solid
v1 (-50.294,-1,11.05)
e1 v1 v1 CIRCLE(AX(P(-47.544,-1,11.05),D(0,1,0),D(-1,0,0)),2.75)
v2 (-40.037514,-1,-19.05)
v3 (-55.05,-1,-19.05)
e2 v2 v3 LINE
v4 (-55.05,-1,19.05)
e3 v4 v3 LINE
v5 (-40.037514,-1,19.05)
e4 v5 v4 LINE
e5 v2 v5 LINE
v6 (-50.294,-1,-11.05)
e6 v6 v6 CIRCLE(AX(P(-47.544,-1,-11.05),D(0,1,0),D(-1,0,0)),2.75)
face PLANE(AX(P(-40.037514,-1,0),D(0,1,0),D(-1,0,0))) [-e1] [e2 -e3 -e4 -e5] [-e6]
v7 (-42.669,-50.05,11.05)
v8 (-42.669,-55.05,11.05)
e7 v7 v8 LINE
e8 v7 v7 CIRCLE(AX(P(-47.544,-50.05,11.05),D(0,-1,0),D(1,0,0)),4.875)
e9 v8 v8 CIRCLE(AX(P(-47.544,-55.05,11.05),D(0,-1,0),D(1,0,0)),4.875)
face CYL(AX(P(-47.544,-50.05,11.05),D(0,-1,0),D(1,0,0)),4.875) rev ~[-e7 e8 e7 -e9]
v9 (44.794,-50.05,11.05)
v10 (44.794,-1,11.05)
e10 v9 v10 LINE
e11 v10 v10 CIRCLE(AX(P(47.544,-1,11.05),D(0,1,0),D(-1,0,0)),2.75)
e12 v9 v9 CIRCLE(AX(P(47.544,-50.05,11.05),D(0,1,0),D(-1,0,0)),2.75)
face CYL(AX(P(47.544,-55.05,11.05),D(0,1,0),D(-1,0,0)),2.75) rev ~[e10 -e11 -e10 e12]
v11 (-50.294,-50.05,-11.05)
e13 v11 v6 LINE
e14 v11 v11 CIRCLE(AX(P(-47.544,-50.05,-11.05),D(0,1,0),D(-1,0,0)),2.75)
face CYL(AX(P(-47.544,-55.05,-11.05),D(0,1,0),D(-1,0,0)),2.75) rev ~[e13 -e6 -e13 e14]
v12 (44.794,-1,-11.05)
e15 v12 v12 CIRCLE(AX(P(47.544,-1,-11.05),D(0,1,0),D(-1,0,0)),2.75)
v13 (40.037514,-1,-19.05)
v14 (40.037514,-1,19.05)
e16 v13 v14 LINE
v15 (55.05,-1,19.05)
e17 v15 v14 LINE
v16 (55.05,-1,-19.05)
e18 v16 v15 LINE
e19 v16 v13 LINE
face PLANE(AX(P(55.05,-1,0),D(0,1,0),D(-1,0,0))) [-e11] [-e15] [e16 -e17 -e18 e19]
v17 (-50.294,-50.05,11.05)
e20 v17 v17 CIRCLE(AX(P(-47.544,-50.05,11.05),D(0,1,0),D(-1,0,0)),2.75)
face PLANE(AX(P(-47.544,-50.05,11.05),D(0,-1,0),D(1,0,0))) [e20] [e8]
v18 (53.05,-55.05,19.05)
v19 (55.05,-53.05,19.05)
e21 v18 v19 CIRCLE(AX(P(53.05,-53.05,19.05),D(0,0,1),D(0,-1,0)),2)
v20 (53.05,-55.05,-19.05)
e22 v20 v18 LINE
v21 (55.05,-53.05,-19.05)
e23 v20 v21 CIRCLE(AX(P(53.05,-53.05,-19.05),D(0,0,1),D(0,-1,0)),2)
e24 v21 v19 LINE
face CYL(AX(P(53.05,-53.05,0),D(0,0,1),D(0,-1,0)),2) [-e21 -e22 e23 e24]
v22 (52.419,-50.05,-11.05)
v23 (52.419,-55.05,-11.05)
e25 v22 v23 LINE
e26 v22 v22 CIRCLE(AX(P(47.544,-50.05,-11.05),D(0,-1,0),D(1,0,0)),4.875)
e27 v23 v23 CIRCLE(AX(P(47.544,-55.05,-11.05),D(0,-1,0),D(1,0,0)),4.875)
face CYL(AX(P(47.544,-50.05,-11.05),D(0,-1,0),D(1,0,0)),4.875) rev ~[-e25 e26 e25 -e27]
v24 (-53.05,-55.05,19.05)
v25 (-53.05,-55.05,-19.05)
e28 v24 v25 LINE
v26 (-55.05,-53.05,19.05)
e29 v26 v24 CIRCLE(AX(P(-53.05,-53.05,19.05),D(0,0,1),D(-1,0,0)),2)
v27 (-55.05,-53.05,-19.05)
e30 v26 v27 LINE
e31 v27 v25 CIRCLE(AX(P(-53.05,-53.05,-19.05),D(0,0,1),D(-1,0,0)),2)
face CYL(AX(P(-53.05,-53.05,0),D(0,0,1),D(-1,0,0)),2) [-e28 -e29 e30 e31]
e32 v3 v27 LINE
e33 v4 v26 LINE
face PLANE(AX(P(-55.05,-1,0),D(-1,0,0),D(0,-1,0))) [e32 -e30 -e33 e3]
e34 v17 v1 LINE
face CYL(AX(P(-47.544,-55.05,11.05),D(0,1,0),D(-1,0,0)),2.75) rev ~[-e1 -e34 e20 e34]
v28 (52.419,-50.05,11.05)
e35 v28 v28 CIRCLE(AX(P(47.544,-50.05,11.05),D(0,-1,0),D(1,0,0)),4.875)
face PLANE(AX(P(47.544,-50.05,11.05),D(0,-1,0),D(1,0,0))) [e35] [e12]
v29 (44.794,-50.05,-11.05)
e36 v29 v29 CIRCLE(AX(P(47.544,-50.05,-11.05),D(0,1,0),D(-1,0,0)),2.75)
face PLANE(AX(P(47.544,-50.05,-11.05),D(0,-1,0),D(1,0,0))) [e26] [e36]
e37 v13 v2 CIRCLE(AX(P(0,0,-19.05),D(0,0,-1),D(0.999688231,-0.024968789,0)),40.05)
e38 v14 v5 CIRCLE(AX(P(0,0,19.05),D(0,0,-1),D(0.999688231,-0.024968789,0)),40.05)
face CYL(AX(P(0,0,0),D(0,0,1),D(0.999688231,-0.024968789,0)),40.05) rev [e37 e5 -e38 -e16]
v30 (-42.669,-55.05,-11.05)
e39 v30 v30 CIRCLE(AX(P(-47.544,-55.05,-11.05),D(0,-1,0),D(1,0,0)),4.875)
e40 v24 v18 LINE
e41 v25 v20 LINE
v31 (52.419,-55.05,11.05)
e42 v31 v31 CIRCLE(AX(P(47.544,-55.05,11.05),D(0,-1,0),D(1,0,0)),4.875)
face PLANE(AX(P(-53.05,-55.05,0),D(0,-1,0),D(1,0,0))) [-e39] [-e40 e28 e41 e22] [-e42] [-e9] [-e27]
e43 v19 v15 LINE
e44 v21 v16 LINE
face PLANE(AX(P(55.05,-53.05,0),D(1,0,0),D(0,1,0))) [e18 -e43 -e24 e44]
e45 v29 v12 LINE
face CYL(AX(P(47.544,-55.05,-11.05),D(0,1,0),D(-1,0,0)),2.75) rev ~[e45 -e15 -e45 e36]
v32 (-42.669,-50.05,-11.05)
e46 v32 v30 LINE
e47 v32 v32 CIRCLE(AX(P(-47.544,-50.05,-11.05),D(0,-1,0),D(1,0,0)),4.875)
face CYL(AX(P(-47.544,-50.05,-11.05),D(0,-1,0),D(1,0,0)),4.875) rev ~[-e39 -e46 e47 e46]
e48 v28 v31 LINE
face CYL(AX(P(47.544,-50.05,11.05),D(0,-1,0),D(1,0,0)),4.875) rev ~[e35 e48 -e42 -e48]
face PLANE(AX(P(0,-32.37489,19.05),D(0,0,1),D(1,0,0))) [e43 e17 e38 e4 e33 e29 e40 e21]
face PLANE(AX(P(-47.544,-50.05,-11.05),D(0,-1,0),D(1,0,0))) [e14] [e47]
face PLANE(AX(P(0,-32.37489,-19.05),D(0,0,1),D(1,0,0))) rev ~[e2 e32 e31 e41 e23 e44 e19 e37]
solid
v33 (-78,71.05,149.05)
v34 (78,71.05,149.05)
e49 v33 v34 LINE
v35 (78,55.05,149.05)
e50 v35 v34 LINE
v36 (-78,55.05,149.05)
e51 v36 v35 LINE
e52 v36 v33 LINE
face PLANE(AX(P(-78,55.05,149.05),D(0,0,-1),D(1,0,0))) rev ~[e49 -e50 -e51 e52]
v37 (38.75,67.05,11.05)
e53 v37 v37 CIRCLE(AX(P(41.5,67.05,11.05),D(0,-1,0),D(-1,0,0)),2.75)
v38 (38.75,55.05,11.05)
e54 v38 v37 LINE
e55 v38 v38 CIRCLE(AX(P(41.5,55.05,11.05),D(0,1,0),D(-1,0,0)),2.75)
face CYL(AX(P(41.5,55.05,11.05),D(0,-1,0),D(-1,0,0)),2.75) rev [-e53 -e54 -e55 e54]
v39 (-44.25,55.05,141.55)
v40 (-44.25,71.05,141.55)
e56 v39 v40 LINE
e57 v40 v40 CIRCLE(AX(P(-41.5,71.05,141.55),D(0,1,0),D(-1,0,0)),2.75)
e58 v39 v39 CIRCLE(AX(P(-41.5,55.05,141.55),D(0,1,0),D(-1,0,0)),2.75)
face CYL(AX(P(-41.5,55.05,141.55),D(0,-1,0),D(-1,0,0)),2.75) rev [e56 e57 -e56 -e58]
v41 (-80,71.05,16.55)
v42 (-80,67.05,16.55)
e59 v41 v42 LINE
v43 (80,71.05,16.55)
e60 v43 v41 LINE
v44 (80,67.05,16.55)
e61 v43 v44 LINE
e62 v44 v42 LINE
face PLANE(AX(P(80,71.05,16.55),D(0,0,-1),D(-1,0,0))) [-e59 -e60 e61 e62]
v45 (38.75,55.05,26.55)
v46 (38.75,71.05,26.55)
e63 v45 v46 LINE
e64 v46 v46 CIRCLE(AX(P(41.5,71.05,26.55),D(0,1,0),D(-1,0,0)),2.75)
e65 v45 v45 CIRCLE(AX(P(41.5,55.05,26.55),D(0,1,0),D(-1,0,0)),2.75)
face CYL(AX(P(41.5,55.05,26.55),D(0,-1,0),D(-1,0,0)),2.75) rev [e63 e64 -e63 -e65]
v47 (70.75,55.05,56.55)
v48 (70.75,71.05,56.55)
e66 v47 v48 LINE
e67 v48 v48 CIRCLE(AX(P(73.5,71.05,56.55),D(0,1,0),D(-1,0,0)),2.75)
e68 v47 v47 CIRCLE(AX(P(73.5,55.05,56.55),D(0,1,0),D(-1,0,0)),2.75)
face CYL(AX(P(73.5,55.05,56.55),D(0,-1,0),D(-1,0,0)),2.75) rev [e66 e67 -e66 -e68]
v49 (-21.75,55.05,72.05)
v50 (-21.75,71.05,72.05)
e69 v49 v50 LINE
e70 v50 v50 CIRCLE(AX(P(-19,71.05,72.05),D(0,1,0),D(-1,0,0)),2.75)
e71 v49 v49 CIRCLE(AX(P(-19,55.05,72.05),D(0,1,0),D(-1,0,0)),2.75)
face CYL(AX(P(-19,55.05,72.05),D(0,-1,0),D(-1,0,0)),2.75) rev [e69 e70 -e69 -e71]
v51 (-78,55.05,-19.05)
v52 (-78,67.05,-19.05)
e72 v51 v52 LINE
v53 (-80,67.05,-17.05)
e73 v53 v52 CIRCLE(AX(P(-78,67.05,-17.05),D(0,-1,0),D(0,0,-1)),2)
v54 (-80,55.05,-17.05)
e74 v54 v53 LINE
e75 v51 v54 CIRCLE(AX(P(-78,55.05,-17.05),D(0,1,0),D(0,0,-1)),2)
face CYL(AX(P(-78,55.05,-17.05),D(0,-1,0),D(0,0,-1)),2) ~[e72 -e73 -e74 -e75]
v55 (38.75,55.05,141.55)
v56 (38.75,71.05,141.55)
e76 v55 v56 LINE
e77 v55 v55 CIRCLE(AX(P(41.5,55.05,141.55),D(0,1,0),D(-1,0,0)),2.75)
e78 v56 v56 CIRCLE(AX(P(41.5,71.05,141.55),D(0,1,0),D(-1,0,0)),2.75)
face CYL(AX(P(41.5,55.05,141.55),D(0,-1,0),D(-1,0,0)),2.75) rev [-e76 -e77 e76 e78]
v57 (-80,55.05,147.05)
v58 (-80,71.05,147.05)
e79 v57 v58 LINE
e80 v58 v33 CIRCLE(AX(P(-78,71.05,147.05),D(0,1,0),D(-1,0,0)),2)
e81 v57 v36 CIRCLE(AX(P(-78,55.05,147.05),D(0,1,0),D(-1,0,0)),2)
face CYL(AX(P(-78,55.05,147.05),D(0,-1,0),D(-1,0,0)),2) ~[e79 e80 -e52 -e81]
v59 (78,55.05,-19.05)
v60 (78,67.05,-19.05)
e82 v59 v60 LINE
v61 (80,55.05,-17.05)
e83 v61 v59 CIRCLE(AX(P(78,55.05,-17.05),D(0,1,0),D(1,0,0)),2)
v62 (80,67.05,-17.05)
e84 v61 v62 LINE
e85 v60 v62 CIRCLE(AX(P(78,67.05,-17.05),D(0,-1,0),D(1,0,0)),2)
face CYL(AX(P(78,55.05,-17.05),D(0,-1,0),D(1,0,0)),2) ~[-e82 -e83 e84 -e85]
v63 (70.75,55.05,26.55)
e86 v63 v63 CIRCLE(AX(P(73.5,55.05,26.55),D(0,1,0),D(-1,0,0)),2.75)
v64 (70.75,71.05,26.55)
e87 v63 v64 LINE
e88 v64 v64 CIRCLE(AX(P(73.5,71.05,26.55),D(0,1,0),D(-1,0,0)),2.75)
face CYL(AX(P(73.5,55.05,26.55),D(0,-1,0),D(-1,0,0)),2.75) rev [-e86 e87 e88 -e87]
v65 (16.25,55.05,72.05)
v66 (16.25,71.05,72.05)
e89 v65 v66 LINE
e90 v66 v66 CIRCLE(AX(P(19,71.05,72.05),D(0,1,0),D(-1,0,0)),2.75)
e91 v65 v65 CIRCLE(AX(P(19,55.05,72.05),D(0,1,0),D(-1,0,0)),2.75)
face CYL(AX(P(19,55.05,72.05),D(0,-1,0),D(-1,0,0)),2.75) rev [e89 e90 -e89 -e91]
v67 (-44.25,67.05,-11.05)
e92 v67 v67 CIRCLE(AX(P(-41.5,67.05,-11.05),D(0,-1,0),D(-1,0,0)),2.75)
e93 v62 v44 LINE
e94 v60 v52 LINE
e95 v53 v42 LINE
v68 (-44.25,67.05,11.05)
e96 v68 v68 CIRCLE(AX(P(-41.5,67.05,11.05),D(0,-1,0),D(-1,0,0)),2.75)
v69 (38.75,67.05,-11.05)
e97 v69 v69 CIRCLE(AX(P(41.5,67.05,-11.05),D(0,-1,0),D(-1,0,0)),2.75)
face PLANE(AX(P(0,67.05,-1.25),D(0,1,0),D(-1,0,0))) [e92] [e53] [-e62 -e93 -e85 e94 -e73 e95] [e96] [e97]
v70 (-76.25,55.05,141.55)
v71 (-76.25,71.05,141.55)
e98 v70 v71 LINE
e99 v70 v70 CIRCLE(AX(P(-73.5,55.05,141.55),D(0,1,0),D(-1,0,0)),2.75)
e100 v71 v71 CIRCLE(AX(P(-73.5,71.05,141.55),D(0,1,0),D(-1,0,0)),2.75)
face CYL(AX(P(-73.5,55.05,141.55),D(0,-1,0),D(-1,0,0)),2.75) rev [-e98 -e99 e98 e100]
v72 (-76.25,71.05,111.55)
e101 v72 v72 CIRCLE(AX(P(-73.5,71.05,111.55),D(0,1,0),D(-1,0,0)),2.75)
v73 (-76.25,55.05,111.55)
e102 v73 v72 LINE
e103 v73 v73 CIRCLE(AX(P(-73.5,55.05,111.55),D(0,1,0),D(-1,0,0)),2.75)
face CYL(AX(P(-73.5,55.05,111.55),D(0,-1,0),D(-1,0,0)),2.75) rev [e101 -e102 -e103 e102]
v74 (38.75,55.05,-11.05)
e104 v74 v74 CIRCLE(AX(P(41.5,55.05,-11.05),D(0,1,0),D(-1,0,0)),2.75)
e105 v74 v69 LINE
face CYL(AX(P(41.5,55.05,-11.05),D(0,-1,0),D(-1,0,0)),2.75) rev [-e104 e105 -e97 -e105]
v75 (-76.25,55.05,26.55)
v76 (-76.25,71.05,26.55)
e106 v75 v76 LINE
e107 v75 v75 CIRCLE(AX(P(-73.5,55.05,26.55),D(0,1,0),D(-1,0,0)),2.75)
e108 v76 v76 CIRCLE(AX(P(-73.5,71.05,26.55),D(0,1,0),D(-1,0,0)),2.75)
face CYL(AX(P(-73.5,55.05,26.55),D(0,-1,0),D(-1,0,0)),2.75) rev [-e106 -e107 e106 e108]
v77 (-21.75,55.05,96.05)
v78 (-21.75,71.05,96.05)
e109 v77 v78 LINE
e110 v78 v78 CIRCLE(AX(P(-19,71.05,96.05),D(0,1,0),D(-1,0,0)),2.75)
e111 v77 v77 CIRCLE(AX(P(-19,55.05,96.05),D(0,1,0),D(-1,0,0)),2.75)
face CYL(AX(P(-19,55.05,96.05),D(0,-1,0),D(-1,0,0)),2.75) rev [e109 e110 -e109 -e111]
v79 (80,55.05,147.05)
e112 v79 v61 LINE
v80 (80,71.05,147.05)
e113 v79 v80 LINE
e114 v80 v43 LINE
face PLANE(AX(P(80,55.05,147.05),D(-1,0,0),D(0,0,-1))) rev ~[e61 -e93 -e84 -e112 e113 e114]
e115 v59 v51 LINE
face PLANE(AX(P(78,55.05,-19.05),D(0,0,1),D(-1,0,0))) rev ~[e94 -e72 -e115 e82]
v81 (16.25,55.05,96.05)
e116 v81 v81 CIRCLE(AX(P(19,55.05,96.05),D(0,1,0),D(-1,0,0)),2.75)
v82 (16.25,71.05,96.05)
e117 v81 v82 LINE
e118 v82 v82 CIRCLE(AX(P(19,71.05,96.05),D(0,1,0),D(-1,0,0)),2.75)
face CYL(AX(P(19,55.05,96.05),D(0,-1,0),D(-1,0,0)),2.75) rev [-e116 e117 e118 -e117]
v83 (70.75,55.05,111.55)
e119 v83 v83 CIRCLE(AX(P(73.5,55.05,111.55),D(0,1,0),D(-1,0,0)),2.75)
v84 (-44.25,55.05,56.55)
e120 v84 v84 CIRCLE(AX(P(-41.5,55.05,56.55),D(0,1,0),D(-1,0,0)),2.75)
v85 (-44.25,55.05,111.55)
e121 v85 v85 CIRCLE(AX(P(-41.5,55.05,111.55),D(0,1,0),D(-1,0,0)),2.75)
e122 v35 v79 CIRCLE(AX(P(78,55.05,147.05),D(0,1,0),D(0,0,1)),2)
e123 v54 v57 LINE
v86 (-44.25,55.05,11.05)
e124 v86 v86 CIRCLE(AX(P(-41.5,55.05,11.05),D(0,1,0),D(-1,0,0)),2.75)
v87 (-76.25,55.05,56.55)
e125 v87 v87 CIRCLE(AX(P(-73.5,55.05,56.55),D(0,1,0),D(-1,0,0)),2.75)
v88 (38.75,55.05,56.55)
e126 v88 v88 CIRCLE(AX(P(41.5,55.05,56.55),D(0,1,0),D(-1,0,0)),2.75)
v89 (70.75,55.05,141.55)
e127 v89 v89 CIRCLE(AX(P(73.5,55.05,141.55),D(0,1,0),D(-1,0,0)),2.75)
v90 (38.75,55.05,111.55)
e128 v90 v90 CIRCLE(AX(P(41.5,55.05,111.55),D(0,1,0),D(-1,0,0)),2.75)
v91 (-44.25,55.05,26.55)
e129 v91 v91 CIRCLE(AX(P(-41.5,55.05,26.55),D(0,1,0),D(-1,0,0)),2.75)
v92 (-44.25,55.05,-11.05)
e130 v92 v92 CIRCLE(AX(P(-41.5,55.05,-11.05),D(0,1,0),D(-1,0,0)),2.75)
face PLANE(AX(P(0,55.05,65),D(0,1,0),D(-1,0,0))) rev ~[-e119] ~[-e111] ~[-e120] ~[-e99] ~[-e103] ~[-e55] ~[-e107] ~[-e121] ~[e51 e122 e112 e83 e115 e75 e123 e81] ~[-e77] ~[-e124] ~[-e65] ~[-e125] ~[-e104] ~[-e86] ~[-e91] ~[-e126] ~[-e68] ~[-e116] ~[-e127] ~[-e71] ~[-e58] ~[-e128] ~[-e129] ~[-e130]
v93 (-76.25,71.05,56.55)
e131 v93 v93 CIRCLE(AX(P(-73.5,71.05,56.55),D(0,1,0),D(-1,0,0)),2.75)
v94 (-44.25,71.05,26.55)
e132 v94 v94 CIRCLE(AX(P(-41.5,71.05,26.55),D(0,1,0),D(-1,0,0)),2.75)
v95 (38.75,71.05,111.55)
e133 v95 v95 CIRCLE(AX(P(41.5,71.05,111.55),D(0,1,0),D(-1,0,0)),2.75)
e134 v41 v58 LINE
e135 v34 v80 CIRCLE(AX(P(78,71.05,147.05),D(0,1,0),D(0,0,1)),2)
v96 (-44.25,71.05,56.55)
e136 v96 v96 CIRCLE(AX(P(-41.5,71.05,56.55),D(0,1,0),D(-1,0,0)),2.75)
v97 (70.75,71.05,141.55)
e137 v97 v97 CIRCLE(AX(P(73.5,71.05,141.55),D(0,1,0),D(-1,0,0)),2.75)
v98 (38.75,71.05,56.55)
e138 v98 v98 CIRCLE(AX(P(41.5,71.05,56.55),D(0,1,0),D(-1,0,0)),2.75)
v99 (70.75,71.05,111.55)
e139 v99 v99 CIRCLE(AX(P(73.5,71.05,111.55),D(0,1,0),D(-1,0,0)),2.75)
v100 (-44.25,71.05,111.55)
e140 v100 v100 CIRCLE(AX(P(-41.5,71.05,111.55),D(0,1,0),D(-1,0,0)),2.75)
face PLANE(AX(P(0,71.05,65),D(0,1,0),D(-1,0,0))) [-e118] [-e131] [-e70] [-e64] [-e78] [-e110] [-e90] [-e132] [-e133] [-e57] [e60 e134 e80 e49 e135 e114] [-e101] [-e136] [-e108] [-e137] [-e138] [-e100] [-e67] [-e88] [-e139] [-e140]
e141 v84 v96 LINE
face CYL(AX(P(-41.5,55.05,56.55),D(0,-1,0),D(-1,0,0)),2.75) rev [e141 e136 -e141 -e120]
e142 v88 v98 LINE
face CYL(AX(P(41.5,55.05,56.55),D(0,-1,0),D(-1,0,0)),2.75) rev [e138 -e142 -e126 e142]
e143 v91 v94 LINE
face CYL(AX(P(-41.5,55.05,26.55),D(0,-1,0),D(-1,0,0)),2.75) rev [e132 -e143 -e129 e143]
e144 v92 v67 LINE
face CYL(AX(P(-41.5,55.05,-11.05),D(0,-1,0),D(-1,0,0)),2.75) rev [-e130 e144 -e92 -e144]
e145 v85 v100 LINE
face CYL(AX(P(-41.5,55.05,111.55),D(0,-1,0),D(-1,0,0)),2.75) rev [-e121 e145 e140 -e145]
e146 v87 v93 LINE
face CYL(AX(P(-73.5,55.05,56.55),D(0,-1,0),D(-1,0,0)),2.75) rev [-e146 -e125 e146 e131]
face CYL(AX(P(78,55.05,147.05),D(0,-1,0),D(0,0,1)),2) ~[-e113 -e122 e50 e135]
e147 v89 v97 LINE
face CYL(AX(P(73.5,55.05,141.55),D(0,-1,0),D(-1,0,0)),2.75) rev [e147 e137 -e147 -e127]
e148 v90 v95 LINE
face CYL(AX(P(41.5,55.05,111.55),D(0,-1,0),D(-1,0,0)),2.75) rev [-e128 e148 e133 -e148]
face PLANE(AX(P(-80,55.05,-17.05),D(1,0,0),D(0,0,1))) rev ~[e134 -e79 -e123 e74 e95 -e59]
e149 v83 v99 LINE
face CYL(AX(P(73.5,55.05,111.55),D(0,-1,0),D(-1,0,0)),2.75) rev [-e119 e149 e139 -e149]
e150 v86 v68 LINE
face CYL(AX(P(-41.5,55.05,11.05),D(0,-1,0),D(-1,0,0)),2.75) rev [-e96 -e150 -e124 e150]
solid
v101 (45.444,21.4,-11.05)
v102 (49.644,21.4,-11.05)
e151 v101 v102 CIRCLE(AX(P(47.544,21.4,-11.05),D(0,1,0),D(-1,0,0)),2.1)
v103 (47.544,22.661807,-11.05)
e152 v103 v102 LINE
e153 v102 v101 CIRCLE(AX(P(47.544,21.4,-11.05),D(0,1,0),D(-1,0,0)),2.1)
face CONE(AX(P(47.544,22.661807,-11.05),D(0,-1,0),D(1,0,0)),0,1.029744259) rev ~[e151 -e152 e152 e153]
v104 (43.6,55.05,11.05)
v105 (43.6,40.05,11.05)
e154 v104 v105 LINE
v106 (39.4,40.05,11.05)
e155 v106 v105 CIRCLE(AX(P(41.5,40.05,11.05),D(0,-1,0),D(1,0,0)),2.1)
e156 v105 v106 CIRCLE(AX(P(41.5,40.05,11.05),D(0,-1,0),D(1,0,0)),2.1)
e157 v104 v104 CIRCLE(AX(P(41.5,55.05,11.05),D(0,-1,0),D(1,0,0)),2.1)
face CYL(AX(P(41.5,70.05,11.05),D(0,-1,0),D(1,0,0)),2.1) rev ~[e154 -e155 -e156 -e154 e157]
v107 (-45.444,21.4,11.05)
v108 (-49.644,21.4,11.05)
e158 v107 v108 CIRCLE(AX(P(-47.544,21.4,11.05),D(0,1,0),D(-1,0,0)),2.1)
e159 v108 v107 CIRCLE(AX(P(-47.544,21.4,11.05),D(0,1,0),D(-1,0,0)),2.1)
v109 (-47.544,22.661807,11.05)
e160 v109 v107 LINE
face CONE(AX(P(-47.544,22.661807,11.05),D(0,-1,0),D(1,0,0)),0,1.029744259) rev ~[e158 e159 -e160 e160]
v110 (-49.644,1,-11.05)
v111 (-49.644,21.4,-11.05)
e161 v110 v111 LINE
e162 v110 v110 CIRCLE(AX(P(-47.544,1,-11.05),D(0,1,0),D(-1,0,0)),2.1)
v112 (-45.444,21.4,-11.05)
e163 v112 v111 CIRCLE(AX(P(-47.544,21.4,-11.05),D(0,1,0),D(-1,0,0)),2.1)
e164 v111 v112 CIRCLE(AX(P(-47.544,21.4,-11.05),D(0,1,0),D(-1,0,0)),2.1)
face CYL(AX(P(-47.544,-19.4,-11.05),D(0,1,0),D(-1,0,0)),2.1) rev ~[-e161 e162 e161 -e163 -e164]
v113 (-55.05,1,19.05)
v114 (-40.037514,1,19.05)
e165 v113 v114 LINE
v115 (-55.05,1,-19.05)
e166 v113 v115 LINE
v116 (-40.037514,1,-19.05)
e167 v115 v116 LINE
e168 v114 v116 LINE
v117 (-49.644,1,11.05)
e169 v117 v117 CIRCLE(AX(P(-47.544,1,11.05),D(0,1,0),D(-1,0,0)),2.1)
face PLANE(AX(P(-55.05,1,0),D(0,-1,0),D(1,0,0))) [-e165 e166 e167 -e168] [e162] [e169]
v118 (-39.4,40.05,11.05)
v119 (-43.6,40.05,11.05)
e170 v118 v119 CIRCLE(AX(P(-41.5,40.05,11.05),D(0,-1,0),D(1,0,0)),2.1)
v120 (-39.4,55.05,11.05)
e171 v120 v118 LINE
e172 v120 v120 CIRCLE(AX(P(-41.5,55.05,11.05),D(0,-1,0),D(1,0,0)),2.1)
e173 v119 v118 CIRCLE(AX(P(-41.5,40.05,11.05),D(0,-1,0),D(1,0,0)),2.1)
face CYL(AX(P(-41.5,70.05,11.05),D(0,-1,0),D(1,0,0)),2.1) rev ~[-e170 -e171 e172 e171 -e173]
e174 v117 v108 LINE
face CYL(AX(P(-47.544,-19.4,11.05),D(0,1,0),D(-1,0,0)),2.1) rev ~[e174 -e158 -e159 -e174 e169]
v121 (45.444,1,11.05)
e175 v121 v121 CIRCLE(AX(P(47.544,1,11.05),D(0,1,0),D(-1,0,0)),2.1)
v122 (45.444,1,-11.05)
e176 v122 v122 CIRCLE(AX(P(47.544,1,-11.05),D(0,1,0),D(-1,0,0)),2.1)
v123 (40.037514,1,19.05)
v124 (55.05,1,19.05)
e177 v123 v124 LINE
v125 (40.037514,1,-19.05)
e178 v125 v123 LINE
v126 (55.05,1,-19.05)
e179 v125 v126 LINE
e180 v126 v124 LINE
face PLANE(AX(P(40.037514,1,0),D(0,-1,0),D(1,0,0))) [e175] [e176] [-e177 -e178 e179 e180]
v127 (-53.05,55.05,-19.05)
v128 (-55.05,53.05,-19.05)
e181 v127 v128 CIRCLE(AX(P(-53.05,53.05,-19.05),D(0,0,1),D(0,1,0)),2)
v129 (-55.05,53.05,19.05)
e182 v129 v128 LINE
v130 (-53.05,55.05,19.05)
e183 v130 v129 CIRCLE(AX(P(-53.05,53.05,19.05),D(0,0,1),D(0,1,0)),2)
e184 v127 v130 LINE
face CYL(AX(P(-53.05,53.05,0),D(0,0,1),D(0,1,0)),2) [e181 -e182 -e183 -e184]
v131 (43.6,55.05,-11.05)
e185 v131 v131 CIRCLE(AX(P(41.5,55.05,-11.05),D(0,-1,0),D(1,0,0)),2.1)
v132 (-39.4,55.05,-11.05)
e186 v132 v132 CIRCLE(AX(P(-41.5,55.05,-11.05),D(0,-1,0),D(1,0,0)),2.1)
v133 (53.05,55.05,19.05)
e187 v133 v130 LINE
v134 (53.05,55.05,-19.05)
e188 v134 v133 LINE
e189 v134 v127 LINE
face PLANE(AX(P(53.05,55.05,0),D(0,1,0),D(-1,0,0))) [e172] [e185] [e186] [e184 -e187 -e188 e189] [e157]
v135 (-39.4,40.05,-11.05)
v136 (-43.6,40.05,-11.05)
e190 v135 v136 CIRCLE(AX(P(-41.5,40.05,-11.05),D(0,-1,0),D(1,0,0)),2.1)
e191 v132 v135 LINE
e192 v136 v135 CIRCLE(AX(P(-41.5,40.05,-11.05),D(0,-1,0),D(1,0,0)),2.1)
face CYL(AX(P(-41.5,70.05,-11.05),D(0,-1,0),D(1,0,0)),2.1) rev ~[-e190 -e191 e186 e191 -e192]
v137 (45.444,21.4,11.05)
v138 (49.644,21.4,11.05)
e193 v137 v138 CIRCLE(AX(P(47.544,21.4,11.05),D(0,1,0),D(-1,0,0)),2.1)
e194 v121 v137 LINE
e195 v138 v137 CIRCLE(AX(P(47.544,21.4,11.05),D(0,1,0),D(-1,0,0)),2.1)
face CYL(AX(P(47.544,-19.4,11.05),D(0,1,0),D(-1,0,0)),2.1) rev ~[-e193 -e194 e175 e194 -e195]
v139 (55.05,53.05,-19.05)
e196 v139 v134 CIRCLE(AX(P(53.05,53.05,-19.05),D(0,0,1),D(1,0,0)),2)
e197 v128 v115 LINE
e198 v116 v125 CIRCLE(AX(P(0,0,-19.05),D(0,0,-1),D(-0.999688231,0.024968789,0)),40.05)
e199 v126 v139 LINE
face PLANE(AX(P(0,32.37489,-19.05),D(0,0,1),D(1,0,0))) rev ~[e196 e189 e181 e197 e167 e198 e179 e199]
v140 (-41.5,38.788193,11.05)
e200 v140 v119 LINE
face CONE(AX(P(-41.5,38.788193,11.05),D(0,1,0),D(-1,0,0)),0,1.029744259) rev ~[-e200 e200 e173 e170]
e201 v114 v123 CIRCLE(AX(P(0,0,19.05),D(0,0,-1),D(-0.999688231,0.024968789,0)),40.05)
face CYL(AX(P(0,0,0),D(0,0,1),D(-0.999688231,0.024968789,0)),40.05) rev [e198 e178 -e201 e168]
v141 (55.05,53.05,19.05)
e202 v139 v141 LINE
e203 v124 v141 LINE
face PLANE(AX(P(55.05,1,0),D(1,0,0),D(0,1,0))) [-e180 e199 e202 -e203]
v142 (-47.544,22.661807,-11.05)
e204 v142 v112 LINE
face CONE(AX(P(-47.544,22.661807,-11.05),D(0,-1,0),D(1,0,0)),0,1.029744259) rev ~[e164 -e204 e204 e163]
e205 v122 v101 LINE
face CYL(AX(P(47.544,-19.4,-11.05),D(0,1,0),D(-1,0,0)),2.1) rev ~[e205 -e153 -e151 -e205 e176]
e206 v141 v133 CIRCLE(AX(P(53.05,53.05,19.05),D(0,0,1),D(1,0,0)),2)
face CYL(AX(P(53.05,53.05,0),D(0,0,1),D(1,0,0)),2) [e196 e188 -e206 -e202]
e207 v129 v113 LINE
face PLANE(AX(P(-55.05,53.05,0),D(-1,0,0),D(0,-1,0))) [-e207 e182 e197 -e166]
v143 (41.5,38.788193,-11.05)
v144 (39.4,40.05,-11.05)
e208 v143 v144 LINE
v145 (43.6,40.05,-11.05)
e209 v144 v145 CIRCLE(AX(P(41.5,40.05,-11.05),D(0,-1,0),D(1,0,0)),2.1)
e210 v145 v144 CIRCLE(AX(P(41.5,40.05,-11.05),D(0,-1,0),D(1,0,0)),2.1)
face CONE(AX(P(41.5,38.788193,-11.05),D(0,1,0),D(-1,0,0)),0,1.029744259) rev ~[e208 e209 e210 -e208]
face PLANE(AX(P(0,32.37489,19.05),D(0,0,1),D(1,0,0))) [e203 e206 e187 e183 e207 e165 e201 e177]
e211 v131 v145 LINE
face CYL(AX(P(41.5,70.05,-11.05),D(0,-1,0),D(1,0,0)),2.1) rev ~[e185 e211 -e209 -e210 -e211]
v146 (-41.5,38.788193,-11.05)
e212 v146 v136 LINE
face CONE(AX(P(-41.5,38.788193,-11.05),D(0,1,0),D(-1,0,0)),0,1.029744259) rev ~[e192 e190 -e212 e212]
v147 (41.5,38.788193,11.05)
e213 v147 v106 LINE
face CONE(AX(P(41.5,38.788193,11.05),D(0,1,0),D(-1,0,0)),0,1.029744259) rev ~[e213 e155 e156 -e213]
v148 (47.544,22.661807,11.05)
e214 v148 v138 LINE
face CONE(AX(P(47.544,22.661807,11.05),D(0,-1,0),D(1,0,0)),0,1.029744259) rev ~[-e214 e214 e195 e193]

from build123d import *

# Parameters (mm, degrees)
F1_DEPTH       = 19.05
F2_R           = 2.75
F3_DEPTH       = 16
F5_D           = 5.5
F5_CBORE_D     = 9.75
F5_CBORE_DEPTH = 5
F7_D           = 4.2
F7_DEPTH       = 15
F7_TIP         = 1.2618073
F9_D           = 4.2
F9_DEPTH       = 20.4
F9_TIP         = 1.2618073
F10_W          = 160
F10_H          = 35.6
F11_DEPTH      = 4


with BuildPart() as f1:
    # F0 (on Top) → F1 (new body, symmetric)
    with BuildSketch(Plane.XY):
        with BuildLine():
            ThreePointArc((-40.0375136591, 1), (0, 40.05), (40.0375136591, 1))
            Line((40.0375136591, 1), (55.05, 1))
            Line((55.05, 1), (55.05, 53.05))
            ThreePointArc((55.05, 53.05), (54.4642135624, 54.4642135624), (53.05, 55.05))
            Line((53.05, 55.05), (-53.05, 55.05))
            ThreePointArc((-53.05, 55.05), (-54.4642135624, 54.4642135624), (-55.05, 53.05))
            Line((-55.05, 53.05), (-55.05, 1))
            Line((-55.05, 1), (-40.0375136591, 1))
        make_face()
    extrude(amount=F1_DEPTH, both=True)

    # F7
    with Locations(Plane(origin=(0, 55.05, 0), x_dir=(-1, 0, 0), z_dir=(0, 1, 0))):
        with Locations((-41.5, -11.05), (-41.5, 11.05), (41.5, 11.05), (41.5, -11.05)):
            Hole(F7_D / 2, depth=F7_DEPTH)
            with Locations((0, 0, -(F7_DEPTH + F7_TIP / 2))):  # 118° drill point
                Cone(0, F7_D / 2, F7_TIP, mode=Mode.SUBTRACT)

    # F9
    with Locations(Plane.XZ.offset(-1)):
        with Locations((-47.544, 11.05), (-47.544, -11.05), (47.544, -11.05), (47.544, 11.05)):
            Hole(F9_D / 2, depth=F9_DEPTH)
            with Locations((0, 0, -(F9_DEPTH + F9_TIP / 2))):  # 118° drill point
                Cone(0, F9_D / 2, F9_TIP, mode=Mode.SUBTRACT)


with BuildPart() as f1b:
    # F0 (on Top) → F1, piece 2 (new body, symmetric)
    with BuildSketch(Plane.XY):
        with BuildLine():
            Line((-53.05, -55.05), (53.05, -55.05))
            ThreePointArc((53.05, -55.05), (54.4642135624, -54.4642135624), (55.05, -53.05))
            Line((55.05, -53.05), (55.05, -1))
            Line((55.05, -1), (40.0375136591, -1))
            ThreePointArc((40.0375136591, -1), (0, -40.05), (-40.0375136591, -1))
            Line((-40.0375136591, -1), (-55.05, -1))
            Line((-55.05, -1), (-55.05, -53.05))
            ThreePointArc((-55.05, -53.05), (-54.4642135624, -54.4642135624), (-53.05, -55.05))
        make_face()
    extrude(amount=F1_DEPTH, both=True)

    # F5 (through all)
    with Locations(Plane.XZ.offset(55.05)):
        with Locations((-47.544, 11.05), (-47.544, -11.05), (47.544, 11.05), (47.544, -11.05)):
            CounterBoreHole(F5_D / 2, F5_CBORE_D / 2, F5_CBORE_DEPTH)


with BuildPart() as f3:
    # F2 (on face) → F3 (new body)
    with BuildSketch(Plane(origin=(0, 55.05, 0), x_dir=(-1, 0, 0), z_dir=(0, 1, 0))):
        with BuildLine():
            Line((78, 149.05), (-78, 149.05))
            ThreePointArc((-78, 149.05), (-79.4142135624, 148.4642135624), (-80, 147.05))
            Line((-80, 147.05), (-80, -17.05))
            ThreePointArc((-80, -17.05), (-79.4142135624, -18.4642135624), (-78, -19.05))
            Line((-78, -19.05), (78, -19.05))
            ThreePointArc((78, -19.05), (79.4142135624, -18.4642135624), (80, -17.05))
            Line((80, -17.05), (80, 147.05))
            ThreePointArc((80, 147.05), (79.4142135624, 148.4642135624), (78, 149.05))
        make_face()
        with Locations((-41.5, -11.05)):
            Circle(F2_R, mode=Mode.SUBTRACT)
        with Locations((-41.5, 11.05)):
            Circle(F2_R, mode=Mode.SUBTRACT)
        with Locations((-73.5, 26.55)):
            Circle(F2_R, mode=Mode.SUBTRACT)
        with Locations((-41.5, 26.55)):
            Circle(F2_R, mode=Mode.SUBTRACT)
        with Locations((-73.5, 56.55)):
            Circle(F2_R, mode=Mode.SUBTRACT)
        with Locations((-41.5, 56.55)):
            Circle(F2_R, mode=Mode.SUBTRACT)
        with Locations((41.5, -11.05)):
            Circle(F2_R, mode=Mode.SUBTRACT)
        with Locations((41.5, 11.05)):
            Circle(F2_R, mode=Mode.SUBTRACT)
        with Locations((41.5, 26.55)):
            Circle(F2_R, mode=Mode.SUBTRACT)
        with Locations((73.5, 26.55)):
            Circle(F2_R, mode=Mode.SUBTRACT)
        with Locations((41.5, 56.55)):
            Circle(F2_R, mode=Mode.SUBTRACT)
        with Locations((73.5, 56.55)):
            Circle(F2_R, mode=Mode.SUBTRACT)
        with Locations((-19, 72.05)):
            Circle(F2_R, mode=Mode.SUBTRACT)
        with Locations((-19, 96.05)):
            Circle(F2_R, mode=Mode.SUBTRACT)
        with Locations((-73.5, 111.55)):
            Circle(F2_R, mode=Mode.SUBTRACT)
        with Locations((-41.5, 111.55)):
            Circle(F2_R, mode=Mode.SUBTRACT)
        with Locations((-73.5, 141.55)):
            Circle(F2_R, mode=Mode.SUBTRACT)
        with Locations((-41.5, 141.55)):
            Circle(F2_R, mode=Mode.SUBTRACT)
        with Locations((19, 72.05)):
            Circle(F2_R, mode=Mode.SUBTRACT)
        with Locations((19, 96.05)):
            Circle(F2_R, mode=Mode.SUBTRACT)
        with Locations((41.5, 111.55)):
            Circle(F2_R, mode=Mode.SUBTRACT)
        with Locations((73.5, 111.55)):
            Circle(F2_R, mode=Mode.SUBTRACT)
        with Locations((41.5, 141.55)):
            Circle(F2_R, mode=Mode.SUBTRACT)
        with Locations((73.5, 141.55)):
            Circle(F2_R, mode=Mode.SUBTRACT)
    extrude(amount=F3_DEPTH)

    # F10 (on face) → F11 (cut)
    with BuildSketch(Plane(origin=(0, 71.05, 0), x_dir=(-1, 0, 0), z_dir=(0, 1, 0))):
        with Locations((0, -1.25)):
            Rectangle(F10_W, F10_H)
    extrude(amount=-F11_DEPTH, mode=Mode.SUBTRACT)


solid = Compound([f1.part, f1b.part, f3.part])
